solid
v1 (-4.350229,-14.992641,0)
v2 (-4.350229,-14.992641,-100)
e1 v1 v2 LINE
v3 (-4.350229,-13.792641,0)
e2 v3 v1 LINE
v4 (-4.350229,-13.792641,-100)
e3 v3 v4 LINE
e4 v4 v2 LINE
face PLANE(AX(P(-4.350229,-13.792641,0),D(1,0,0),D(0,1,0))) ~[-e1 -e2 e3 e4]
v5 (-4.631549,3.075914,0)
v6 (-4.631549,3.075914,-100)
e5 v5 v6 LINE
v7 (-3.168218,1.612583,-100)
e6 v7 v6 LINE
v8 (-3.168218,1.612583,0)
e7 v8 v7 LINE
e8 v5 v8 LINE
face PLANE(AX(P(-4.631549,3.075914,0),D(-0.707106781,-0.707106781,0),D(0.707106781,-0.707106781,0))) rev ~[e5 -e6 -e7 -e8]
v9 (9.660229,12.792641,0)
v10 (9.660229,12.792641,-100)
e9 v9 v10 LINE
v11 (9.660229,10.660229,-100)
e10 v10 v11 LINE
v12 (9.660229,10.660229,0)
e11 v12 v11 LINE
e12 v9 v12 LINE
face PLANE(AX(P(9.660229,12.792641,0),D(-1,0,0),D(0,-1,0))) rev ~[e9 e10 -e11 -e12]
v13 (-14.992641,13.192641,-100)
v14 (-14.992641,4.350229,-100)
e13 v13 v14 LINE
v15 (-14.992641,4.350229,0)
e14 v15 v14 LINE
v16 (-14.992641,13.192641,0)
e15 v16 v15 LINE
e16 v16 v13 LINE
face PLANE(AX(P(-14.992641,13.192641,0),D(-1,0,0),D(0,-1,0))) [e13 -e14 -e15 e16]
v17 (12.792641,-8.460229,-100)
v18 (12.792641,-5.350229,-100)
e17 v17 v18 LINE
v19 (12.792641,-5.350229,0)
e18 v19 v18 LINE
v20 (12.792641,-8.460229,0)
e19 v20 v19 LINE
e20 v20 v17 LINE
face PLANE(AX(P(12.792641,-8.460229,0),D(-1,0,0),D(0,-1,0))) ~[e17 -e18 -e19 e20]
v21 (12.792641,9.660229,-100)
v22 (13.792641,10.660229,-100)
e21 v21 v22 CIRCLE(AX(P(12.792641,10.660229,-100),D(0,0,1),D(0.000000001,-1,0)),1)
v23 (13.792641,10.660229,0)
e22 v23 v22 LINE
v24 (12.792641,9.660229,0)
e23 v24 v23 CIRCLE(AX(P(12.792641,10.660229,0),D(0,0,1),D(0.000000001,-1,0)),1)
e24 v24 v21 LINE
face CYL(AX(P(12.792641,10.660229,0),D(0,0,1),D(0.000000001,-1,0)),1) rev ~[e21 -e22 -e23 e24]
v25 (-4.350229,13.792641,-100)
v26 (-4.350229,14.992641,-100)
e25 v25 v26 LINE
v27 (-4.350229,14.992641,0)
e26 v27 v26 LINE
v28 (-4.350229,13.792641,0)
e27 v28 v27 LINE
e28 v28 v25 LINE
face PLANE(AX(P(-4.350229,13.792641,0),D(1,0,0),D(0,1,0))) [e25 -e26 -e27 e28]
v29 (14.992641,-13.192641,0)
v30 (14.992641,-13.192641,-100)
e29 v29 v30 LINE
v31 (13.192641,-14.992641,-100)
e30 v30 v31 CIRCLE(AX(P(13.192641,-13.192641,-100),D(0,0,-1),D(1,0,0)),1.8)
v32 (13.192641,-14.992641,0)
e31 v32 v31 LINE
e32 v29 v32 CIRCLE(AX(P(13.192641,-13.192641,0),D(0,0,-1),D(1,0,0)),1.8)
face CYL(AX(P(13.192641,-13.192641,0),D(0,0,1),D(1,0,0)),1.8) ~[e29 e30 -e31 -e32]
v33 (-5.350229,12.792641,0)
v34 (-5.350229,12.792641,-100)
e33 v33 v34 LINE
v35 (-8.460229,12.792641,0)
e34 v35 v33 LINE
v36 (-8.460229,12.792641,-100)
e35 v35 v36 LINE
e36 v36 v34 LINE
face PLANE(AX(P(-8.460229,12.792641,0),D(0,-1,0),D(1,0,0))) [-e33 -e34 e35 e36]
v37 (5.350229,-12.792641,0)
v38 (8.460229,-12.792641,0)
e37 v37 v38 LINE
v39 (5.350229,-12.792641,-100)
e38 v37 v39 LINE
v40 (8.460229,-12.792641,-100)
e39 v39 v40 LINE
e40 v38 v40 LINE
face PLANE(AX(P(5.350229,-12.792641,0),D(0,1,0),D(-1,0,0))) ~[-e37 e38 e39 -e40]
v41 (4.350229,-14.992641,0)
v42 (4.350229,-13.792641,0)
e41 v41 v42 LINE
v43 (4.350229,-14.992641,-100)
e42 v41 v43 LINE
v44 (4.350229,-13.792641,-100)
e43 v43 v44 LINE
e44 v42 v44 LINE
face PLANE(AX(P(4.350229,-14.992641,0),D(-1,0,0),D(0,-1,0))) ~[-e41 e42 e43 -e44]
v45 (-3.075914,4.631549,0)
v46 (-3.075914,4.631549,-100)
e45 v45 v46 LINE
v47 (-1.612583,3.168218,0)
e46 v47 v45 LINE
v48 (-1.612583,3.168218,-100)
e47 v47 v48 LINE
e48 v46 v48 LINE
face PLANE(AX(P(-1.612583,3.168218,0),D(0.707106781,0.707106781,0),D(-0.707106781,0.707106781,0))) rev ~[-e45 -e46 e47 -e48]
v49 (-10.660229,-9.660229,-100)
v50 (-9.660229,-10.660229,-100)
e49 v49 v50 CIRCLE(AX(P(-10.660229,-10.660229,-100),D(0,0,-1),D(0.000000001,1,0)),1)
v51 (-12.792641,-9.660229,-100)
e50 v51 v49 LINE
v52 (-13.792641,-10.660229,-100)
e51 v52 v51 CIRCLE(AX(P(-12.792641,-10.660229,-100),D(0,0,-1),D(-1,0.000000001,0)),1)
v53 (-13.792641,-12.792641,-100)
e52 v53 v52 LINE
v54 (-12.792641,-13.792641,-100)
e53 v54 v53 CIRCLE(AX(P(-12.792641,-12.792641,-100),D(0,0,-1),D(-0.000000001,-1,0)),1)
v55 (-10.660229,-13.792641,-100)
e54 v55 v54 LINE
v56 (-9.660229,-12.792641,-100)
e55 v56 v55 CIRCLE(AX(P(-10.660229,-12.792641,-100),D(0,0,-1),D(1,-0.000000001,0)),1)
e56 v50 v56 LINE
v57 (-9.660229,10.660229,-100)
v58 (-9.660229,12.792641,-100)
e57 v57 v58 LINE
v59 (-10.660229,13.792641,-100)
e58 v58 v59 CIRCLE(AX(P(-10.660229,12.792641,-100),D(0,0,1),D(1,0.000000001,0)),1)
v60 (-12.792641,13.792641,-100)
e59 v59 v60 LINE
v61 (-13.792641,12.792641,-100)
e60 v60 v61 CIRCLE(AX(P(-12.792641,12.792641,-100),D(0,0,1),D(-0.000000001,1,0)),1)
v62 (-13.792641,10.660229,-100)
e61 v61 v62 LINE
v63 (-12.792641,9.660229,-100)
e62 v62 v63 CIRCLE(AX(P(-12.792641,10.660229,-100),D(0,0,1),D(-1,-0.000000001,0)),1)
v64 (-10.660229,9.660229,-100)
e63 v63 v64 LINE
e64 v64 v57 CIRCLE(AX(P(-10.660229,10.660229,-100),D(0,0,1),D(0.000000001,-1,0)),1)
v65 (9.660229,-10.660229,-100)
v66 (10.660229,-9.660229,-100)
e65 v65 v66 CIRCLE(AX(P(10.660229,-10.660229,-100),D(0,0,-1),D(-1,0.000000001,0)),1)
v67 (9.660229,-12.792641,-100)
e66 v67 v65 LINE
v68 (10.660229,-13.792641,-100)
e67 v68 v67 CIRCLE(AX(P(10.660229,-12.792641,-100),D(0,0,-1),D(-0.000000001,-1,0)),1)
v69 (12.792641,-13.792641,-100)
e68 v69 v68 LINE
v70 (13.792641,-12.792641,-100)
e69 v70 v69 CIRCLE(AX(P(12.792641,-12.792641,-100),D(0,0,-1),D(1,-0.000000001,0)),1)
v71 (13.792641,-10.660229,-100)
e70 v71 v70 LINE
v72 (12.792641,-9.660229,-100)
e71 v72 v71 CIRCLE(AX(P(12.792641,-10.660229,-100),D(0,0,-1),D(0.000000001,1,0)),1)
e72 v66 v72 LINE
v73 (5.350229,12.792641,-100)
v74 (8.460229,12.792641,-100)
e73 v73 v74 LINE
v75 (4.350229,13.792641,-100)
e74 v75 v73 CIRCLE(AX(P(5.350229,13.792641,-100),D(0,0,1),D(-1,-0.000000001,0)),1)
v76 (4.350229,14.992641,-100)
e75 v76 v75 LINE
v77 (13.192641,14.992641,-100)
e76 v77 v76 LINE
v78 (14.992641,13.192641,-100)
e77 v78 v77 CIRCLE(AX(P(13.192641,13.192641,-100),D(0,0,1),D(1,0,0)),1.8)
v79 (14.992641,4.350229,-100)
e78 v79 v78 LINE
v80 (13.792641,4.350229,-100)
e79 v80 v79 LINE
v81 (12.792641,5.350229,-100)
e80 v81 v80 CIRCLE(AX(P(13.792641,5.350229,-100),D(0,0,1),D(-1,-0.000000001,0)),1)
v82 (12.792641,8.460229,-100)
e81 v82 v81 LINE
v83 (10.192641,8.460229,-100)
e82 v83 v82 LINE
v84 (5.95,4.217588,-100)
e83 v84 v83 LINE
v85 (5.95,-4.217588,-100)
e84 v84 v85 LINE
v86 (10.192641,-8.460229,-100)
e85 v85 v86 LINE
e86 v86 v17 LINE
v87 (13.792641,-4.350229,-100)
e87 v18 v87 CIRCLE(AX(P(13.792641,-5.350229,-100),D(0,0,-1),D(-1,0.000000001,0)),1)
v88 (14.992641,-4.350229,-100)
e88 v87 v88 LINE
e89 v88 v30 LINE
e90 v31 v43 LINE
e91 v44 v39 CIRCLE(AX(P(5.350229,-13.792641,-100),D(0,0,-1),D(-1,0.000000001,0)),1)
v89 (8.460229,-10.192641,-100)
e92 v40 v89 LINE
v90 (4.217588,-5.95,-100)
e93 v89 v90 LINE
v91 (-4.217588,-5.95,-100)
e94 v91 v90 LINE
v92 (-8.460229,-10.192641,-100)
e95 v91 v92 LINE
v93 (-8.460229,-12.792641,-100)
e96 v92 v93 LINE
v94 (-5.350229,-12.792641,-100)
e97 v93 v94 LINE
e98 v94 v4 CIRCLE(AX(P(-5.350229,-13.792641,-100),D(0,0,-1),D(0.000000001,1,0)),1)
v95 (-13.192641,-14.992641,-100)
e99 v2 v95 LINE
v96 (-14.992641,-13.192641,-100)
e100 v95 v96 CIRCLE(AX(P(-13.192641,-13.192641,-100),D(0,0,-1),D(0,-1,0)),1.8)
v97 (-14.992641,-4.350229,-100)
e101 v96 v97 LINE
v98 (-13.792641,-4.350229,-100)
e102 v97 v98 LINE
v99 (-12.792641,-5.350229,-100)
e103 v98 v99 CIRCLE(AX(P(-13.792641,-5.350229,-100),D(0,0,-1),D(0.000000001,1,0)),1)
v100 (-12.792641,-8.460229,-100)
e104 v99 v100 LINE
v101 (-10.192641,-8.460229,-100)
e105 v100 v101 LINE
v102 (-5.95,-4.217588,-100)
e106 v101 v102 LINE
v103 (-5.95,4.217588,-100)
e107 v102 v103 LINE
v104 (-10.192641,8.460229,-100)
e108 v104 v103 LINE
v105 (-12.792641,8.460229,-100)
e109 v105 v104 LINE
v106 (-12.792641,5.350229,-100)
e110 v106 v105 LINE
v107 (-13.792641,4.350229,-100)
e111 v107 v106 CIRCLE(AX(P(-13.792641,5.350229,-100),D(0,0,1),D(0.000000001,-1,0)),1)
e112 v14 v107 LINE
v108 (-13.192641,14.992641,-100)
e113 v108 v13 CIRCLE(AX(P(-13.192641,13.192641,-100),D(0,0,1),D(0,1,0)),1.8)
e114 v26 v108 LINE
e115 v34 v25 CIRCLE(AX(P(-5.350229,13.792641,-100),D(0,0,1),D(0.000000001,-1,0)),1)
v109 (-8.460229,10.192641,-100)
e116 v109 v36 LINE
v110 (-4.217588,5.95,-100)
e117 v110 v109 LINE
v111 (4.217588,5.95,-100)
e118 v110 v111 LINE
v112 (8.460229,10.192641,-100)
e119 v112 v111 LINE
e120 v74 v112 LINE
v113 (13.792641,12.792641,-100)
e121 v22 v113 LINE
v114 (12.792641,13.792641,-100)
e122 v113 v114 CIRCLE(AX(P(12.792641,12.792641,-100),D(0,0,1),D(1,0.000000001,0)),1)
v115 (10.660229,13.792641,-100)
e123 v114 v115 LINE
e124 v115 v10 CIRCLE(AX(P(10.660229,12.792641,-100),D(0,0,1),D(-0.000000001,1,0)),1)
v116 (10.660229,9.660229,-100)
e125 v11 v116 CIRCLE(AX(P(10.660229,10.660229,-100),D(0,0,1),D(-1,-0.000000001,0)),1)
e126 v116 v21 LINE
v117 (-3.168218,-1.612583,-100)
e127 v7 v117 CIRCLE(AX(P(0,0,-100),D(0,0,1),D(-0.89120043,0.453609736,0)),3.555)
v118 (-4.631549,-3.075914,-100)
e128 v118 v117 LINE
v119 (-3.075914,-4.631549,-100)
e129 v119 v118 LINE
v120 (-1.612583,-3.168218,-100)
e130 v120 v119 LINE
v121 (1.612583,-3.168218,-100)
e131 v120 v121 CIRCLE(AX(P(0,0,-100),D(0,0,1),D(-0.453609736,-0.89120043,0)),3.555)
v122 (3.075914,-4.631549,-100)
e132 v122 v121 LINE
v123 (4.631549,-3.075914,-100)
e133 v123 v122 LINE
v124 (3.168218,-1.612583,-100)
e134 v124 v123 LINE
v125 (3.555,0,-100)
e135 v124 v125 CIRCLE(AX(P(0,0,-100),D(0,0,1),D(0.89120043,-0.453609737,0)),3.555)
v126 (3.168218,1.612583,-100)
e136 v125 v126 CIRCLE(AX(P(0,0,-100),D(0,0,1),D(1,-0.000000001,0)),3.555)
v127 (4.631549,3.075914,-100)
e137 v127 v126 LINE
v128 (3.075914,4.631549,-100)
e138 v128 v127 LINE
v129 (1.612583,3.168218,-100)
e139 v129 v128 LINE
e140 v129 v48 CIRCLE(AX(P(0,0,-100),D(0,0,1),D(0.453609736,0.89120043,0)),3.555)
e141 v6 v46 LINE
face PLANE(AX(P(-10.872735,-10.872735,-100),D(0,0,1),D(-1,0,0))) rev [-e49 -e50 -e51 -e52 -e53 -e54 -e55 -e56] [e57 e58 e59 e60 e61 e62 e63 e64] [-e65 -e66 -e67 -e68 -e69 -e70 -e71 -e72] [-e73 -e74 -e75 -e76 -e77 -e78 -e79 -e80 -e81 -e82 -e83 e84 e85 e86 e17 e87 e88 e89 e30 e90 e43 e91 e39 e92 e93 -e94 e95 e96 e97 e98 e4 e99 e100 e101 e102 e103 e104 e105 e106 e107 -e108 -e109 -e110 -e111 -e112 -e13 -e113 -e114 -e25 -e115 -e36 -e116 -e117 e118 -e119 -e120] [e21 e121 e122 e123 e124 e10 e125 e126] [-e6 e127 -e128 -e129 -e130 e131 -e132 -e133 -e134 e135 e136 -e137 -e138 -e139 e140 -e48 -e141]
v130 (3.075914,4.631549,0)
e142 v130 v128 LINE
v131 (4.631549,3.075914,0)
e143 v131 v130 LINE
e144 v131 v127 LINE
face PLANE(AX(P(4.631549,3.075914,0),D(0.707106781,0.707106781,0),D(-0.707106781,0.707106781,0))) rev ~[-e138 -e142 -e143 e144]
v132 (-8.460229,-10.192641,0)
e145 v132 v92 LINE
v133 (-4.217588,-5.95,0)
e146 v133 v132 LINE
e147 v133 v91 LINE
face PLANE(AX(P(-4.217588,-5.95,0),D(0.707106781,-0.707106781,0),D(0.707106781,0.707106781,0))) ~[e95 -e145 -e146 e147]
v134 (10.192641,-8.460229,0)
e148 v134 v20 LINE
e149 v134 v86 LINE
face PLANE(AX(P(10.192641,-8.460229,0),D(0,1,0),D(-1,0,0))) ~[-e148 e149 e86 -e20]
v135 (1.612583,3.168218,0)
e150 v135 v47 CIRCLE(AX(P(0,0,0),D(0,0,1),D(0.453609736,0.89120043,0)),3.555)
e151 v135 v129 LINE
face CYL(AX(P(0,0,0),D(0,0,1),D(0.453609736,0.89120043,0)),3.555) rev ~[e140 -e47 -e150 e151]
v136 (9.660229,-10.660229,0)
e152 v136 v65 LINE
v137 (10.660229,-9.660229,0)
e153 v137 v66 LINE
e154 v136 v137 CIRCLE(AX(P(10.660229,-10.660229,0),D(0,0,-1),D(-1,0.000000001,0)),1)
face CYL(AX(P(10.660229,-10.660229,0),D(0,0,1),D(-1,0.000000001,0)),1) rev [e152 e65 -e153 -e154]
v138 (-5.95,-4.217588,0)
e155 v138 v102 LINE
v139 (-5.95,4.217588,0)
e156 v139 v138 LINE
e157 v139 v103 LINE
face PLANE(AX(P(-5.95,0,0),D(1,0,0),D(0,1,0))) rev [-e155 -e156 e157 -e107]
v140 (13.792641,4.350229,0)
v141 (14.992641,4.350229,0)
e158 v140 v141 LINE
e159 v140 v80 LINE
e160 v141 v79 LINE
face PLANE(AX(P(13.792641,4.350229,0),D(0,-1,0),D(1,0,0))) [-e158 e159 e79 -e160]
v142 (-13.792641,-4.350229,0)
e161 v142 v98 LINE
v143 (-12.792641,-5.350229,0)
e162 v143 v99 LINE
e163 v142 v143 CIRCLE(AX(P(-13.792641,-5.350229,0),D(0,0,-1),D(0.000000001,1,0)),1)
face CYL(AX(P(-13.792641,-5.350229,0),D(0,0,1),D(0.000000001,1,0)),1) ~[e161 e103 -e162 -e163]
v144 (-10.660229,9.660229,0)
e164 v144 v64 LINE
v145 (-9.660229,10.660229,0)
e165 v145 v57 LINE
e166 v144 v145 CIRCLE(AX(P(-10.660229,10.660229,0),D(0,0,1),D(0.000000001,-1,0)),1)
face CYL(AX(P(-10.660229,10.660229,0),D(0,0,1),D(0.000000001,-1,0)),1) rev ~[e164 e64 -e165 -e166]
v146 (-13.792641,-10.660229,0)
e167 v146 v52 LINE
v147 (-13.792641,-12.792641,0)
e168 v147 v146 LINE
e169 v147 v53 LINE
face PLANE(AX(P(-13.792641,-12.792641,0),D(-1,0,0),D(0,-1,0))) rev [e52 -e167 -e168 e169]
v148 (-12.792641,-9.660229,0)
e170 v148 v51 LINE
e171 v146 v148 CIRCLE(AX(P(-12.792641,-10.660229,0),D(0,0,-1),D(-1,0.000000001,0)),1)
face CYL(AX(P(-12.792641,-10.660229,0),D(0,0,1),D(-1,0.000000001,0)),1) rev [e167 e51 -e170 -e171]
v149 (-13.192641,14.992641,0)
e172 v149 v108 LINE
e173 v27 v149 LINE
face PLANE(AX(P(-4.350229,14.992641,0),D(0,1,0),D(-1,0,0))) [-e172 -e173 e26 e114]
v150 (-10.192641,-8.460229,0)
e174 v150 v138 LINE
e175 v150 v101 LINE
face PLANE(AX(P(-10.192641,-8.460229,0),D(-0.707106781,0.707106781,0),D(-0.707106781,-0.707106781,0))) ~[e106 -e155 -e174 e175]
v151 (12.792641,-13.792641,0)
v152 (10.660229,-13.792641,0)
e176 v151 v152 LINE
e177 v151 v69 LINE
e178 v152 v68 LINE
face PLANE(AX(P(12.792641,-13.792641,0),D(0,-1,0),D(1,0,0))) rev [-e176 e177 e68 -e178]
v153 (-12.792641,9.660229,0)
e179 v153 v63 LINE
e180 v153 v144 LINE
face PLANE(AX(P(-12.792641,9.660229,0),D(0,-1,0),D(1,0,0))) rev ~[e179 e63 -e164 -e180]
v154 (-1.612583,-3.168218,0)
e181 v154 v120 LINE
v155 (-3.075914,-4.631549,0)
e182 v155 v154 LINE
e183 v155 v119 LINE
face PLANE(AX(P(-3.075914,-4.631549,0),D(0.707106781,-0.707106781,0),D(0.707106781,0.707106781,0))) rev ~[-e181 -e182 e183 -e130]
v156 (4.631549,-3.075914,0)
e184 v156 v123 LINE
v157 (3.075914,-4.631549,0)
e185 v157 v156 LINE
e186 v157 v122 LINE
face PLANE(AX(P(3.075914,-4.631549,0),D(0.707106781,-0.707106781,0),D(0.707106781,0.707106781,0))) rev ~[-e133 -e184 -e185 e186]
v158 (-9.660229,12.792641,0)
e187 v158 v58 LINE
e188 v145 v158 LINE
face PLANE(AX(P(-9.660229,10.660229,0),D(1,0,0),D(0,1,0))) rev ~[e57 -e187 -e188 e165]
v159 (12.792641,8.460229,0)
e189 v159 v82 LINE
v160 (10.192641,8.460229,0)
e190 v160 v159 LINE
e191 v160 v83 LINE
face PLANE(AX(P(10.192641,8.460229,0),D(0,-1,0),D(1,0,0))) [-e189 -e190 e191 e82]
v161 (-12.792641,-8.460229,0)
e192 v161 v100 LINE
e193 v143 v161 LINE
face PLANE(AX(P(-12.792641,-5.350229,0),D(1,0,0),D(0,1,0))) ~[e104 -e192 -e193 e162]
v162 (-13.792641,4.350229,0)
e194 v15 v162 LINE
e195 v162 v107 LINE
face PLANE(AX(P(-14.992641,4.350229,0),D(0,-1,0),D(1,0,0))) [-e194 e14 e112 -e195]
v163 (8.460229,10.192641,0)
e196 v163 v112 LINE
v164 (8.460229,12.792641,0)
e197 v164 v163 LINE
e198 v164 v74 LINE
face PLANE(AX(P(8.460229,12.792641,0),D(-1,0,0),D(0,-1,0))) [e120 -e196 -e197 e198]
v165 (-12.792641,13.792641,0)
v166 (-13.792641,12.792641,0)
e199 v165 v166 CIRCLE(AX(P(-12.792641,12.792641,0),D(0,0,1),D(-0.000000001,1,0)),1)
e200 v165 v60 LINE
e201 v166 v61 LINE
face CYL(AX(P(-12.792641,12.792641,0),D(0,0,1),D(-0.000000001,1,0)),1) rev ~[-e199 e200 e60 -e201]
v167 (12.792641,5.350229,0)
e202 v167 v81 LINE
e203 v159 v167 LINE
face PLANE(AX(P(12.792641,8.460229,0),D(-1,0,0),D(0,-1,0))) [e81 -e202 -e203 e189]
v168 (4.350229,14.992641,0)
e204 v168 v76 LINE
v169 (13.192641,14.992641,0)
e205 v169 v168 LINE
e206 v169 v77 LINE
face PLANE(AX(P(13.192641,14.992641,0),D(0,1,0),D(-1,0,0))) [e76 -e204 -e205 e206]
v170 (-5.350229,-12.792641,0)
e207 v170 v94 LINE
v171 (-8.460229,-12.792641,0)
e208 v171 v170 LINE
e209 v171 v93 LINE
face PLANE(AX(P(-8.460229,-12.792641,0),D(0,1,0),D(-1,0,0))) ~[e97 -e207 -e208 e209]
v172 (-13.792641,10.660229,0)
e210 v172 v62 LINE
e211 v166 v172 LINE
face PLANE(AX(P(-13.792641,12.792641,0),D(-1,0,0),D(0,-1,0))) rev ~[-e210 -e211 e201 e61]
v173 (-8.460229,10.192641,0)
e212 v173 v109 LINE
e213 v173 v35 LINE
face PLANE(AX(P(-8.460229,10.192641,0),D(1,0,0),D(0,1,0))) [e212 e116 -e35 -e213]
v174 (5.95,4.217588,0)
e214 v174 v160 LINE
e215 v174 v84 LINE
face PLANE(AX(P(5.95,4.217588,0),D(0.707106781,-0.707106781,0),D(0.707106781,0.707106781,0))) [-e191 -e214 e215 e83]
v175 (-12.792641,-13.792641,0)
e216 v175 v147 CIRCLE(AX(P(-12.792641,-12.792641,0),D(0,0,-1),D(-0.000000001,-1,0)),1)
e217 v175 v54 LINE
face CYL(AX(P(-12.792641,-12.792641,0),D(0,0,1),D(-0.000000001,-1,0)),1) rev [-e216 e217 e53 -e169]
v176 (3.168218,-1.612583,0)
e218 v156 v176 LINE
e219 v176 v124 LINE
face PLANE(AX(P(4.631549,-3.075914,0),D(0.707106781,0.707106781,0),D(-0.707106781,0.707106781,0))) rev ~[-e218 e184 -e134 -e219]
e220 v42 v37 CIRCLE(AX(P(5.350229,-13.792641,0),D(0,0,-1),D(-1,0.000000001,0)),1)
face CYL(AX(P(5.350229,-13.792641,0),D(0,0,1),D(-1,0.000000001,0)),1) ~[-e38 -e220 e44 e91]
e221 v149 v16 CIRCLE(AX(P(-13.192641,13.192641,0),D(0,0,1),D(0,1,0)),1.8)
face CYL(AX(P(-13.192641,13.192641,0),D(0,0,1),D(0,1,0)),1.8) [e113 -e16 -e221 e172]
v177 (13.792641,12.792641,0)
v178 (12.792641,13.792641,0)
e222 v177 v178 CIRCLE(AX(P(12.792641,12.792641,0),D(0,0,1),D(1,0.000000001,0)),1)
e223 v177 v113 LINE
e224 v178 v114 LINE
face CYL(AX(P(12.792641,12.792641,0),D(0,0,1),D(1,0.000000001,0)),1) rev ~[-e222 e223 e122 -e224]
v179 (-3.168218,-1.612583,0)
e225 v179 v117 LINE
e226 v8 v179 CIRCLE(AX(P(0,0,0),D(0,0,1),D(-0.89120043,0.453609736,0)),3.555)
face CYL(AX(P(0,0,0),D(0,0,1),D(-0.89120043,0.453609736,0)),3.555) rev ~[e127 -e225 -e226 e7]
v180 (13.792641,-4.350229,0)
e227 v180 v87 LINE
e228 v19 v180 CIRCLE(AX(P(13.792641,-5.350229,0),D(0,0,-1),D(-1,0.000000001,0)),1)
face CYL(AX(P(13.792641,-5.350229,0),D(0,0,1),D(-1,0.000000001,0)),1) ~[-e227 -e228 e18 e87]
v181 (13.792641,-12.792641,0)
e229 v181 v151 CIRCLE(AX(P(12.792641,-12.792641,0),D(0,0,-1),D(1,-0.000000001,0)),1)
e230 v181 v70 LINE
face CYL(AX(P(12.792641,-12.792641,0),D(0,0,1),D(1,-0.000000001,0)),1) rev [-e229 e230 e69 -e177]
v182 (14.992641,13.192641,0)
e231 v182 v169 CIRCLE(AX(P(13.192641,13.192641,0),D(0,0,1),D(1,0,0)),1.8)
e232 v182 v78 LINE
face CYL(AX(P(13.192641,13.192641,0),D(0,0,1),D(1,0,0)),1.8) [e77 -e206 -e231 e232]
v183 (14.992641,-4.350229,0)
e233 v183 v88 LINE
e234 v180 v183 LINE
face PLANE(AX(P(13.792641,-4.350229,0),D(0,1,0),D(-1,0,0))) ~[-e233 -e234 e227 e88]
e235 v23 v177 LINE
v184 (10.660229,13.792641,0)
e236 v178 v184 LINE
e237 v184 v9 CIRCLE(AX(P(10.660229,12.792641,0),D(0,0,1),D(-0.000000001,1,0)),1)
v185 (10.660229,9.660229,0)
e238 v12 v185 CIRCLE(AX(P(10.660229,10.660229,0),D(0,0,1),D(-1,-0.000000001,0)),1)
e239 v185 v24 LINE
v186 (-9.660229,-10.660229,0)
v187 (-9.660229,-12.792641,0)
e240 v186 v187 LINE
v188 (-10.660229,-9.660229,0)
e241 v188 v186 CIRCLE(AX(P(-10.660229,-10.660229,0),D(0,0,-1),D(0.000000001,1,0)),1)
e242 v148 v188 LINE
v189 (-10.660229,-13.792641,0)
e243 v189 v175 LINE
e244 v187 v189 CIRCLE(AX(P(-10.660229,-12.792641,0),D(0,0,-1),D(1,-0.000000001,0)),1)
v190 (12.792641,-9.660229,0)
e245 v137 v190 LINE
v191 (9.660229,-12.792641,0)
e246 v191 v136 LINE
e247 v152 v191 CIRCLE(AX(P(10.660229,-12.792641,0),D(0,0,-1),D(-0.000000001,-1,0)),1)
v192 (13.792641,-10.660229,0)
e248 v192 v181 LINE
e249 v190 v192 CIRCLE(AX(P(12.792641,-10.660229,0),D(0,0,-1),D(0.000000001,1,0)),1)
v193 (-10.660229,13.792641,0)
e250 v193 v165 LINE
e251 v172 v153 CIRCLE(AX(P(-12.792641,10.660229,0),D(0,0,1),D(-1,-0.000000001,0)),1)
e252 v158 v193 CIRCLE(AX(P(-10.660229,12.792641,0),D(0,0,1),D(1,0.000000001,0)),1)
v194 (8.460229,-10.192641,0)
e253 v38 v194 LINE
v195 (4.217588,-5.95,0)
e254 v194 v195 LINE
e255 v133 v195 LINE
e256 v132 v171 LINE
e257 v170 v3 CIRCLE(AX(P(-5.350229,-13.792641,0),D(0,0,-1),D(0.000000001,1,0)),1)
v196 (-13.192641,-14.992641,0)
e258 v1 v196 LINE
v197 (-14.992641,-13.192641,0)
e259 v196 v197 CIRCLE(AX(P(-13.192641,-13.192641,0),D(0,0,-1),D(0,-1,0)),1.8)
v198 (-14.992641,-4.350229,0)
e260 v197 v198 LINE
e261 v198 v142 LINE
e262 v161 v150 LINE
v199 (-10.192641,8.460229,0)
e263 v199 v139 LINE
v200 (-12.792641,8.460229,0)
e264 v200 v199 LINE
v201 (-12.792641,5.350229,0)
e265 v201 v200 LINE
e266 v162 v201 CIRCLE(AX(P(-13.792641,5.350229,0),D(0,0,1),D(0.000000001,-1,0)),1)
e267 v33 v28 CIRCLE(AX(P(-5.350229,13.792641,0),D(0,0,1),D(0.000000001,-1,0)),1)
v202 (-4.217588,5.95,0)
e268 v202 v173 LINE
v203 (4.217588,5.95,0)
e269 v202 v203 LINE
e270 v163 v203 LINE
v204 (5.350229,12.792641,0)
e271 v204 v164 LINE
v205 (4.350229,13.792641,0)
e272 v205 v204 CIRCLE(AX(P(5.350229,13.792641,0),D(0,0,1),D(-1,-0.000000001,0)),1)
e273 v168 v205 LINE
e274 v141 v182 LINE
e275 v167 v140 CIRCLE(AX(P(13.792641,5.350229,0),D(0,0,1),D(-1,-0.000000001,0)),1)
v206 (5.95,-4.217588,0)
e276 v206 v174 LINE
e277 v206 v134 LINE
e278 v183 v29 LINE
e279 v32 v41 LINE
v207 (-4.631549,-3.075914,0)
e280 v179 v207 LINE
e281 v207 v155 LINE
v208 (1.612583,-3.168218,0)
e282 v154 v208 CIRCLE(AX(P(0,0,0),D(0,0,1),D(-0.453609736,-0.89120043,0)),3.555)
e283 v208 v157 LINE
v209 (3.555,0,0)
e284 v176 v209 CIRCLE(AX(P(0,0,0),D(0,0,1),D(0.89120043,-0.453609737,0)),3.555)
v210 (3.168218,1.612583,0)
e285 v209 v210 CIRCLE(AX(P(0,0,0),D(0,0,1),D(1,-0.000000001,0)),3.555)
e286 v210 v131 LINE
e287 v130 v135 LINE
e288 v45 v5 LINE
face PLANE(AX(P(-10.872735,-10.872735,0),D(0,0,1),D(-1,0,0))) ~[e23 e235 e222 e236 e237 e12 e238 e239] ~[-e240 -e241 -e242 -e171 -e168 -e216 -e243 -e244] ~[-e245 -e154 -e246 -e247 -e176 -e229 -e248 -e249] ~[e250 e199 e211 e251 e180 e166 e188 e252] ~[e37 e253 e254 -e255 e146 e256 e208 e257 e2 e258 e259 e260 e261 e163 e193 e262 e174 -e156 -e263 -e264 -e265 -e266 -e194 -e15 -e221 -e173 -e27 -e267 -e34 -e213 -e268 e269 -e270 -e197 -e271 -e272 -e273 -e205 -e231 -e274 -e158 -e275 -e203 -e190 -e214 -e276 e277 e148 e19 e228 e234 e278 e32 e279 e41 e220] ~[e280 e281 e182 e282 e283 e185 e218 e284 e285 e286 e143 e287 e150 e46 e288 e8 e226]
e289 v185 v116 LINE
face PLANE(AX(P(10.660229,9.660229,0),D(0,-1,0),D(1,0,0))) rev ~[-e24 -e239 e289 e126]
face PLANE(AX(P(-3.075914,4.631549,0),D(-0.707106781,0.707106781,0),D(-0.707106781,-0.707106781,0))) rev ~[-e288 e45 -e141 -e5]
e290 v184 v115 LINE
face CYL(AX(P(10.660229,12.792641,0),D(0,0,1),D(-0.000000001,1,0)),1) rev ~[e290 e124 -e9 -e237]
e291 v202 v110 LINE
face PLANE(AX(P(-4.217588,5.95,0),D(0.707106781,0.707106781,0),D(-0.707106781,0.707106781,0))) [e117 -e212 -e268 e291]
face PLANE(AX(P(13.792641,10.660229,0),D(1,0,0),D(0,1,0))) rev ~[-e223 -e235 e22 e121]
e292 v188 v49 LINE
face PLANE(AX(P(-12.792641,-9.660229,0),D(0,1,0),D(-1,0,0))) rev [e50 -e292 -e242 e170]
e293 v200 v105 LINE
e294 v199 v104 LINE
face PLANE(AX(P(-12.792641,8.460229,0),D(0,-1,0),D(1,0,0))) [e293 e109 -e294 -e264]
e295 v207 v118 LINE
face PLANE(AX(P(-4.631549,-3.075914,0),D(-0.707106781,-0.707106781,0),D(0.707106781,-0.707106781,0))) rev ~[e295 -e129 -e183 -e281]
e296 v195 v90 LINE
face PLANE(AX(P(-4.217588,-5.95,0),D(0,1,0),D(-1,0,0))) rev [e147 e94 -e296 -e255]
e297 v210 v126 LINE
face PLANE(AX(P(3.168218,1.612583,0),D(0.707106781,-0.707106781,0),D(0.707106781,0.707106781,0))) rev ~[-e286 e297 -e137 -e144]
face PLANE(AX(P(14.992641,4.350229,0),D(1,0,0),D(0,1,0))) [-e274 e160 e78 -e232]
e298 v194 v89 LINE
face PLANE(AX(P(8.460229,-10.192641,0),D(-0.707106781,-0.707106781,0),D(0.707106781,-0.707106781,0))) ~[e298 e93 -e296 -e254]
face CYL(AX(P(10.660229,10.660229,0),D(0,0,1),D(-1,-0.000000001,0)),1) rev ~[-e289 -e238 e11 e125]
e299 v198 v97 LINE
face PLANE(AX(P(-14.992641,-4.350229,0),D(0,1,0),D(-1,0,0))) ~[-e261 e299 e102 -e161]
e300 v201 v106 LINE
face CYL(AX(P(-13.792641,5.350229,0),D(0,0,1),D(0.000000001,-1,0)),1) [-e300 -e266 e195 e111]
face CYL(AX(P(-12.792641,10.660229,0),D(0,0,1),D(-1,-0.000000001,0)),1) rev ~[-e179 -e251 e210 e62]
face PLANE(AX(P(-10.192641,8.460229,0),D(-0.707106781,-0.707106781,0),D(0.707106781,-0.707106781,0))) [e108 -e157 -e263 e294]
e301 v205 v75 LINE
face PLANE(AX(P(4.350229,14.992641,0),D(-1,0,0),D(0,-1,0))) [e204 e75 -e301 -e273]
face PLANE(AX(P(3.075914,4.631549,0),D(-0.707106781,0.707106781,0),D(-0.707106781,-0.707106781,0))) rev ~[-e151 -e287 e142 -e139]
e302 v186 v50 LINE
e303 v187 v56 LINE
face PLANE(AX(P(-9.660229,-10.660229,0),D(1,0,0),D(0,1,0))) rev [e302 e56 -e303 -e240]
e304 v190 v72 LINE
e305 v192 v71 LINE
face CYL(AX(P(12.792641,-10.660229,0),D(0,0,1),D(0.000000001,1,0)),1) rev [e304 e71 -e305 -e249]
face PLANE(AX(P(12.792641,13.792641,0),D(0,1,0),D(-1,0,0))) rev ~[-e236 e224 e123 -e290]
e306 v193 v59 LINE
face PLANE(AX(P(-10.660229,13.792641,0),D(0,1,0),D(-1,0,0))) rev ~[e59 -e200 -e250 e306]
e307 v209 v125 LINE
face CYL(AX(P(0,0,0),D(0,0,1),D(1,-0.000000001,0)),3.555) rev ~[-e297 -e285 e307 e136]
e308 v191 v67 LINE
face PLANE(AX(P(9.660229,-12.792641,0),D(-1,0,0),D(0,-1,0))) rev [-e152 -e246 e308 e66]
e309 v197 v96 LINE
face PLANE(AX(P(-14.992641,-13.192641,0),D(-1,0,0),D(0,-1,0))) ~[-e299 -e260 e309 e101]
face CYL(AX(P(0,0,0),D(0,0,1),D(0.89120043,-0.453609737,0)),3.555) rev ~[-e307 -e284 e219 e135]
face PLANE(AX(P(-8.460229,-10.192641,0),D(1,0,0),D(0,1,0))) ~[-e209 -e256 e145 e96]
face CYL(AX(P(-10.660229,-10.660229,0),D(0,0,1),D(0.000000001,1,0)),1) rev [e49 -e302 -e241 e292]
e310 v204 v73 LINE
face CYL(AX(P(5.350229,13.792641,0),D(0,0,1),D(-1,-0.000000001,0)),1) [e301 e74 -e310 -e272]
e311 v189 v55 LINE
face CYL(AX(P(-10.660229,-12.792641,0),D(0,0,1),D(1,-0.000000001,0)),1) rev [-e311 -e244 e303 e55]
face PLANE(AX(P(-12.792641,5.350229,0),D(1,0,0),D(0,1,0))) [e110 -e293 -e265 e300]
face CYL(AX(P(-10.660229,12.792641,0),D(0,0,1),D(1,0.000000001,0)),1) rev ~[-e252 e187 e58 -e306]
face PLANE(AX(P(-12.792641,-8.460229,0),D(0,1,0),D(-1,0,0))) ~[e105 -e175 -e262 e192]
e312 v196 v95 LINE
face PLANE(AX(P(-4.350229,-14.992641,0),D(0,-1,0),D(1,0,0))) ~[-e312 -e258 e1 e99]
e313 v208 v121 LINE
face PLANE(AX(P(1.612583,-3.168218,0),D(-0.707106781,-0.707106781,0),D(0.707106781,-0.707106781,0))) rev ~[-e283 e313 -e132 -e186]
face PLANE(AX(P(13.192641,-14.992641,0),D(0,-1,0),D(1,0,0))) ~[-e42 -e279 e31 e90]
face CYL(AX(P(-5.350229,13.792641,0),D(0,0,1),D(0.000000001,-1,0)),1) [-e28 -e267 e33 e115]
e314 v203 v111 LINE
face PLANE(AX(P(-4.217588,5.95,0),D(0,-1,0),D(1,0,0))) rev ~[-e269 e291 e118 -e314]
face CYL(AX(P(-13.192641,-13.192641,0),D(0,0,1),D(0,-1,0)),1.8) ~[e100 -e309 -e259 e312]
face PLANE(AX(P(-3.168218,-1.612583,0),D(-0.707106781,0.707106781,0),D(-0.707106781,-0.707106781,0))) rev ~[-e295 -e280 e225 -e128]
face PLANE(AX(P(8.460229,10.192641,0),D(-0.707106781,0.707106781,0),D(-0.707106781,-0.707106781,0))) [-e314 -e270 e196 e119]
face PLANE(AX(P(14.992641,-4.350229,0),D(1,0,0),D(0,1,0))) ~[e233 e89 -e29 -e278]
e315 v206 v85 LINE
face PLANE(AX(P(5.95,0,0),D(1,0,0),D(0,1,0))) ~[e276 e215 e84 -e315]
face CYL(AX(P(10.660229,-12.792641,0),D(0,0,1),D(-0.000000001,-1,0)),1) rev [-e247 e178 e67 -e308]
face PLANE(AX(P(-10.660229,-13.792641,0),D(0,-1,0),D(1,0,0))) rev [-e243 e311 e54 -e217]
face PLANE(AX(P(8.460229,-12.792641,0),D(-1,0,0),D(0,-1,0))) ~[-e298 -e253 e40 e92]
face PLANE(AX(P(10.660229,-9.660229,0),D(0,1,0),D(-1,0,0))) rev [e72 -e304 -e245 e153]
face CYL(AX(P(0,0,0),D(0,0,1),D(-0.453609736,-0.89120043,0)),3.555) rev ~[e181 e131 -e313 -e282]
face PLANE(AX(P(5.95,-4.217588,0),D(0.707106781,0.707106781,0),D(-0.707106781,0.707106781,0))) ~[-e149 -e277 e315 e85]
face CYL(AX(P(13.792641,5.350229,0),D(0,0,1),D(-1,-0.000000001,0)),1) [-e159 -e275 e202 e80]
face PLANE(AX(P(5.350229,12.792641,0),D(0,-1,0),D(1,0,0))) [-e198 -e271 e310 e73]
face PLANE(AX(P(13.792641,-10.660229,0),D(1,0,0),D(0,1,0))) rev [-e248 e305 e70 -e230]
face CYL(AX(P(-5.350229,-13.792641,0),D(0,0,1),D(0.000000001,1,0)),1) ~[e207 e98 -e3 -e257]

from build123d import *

# Parameters (mm, degrees)
SKETCH1_W           = 11.9
SKETCH1_H           = 5.95
BOSS_EXTRUDE1_DEPTH = 100
CUT_EXTRUDE1_DEPTH  = 101


with BuildPart() as part:
    # Sketch1 → Boss-Extrude1 (new body)
    with BuildSketch(Plane.XY):
        with BuildLine():
            Line((-4.350229073, 14.992640687), (-13.192640687, 14.992640687))
            ThreePointArc((-13.192640687, 14.992640687), (-14.465432893, 14.465432893), (-14.992640687, 13.192640687))
            Line((-14.992640687, 13.192640687), (-14.992640687, 4.350229073))
            Line((-14.992640687, 4.350229073), (-13.792640687, 4.350229073))
            ThreePointArc((-13.792640687, 4.350229073), (-13.085533906, 4.643122292), (-12.792640687, 5.350229073))
            Line((-12.792640687, 5.350229073), (-12.792640687, 8.460229073))
            Line((-12.792640687, 8.460229073), (-8.460229073, 8.460229073))
            Line((-8.460229073, 8.460229073), (-8.460229073, 12.792640687))
            Line((-8.460229073, 12.792640687), (-5.350229073, 12.792640687))
            ThreePointArc((-5.350229073, 12.792640687), (-4.643122292, 13.085533906), (-4.350229073, 13.792640687))
            Line((-4.350229073, 13.792640687), (-4.350229073, 14.992640687))
        make_face()
        with BuildLine():
            Line((-10.660229073, 13.792640687), (-12.792640687, 13.792640687))
            ThreePointArc((-12.792640687, 13.792640687), (-13.499747468, 13.499747468), (-13.792640687, 12.792640687))
            Line((-13.792640687, 12.792640687), (-13.792640687, 10.660229073))
            ThreePointArc((-13.792640687, 10.660229073), (-13.499747468, 9.953122292), (-12.792640687, 9.660229073))
            Line((-12.792640687, 9.660229073), (-10.660229073, 9.660229073))
            ThreePointArc((-10.660229073, 9.660229073), (-9.953122292, 9.953122292), (-9.660229073, 10.660229073))
            Line((-9.660229073, 10.660229073), (-9.660229073, 12.792640687))
            ThreePointArc((-9.660229073, 12.792640687), (-9.953122292, 13.499747468), (-10.660229073, 13.792640687))
        make_face(mode=Mode.SUBTRACT)
        Polygon((-5.95, 4.217588386), (-5.95, 5.95), (-4.217588386, 5.95), (-8.460229073, 10.192640687), (-8.460229073, 8.460229073), (-10.192640687, 8.460229073), align=None)
        with Locations((0, 2.975)):
            Rectangle(SKETCH1_W, SKETCH1_H)
        Polygon((8.460229073, 10.192640687), (4.217588386, 5.95), (5.95, 5.95), (5.95, 4.217588386), (10.192640687, 8.460229073), (8.460229073, 8.460229073), align=None)
        with BuildLine():
            Line((12.792640687, 8.460229073), (12.792640687, 5.350229073))
            ThreePointArc((12.792640687, 5.350229073), (13.085533906, 4.643122292), (13.792640687, 4.350229073))
            Line((13.792640687, 4.350229073), (14.992640687, 4.350229073))
            Line((14.992640687, 4.350229073), (14.992640687, 13.192640687))
            ThreePointArc((14.992640687, 13.192640687), (14.465432893, 14.465432893), (13.192640687, 14.992640687))
            Line((13.192640687, 14.992640687), (4.350229073, 14.992640687))
            Line((4.350229073, 14.992640687), (4.350229073, 13.792640687))
            ThreePointArc((4.350229073, 13.792640687), (4.643122292, 13.085533906), (5.350229073, 12.792640687))
            Line((5.350229073, 12.792640687), (8.460229073, 12.792640687))
            Line((8.460229073, 12.792640687), (8.460229073, 8.460229073))
            Line((8.460229073, 8.460229073), (12.792640687, 8.460229073))
        make_face()
        with BuildLine():
            ThreePointArc((9.660229073, 10.660229073), (9.953122292, 9.953122292), (10.660229073, 9.660229073))
            Line((10.660229073, 9.660229073), (12.792640687, 9.660229073))
            ThreePointArc((12.792640687, 9.660229073), (13.499747468, 9.953122292), (13.792640687, 10.660229073))
            Line((13.792640687, 10.660229073), (13.792640687, 12.792640687))
            ThreePointArc((13.792640687, 12.792640687), (13.499747468, 13.499747468), (12.792640687, 13.792640687))
            Line((12.792640687, 13.792640687), (10.660229073, 13.792640687))
            ThreePointArc((10.660229073, 13.792640687), (9.953122292, 13.499747468), (9.660229073, 12.792640687))
            Line((9.660229073, 12.792640687), (9.660229073, 10.660229073))
        make_face(mode=Mode.SUBTRACT)
    extrude(amount=-BOSS_EXTRUDE1_DEPTH)

    # Mirror1: part across plane


with BuildPart() as part_1:
    add(part.part)
    add(part.part.mirror(Plane(origin=(0, 0, -100), x_dir=(0, 0, 1), z_dir=(0, -1, 0))))

    # Sketch2 → Cut-Extrude1 (cut, through all)
    with BuildSketch(Plane.XY):
        with BuildLine():
            Line((-4.631549417, 3.075914498), (-3.16821753, 1.612582612))
            ThreePointArc((-3.16821753, 1.612582612), (-2.513764607, 2.513764607), (-1.612582612, 3.16821753))
            Line((-1.612582612, 3.16821753), (-3.075914498, 4.631549417))
            Line((-3.075914498, 4.631549417), (-4.631549417, 3.075914498))
        make_face()
        with BuildLine():
            Line((-3.16821753, 1.612582612), (-1.555634919, 0))
            Line((-1.555634919, 0), (0, 1.555634919))
            Line((0, 1.555634919), (-1.612582612, 3.16821753))
            ThreePointArc((-1.612582612, 3.16821753), (-2.513764607, 2.513764607), (-3.16821753, 1.612582612))
        make_face()
        with BuildLine():
            ThreePointArc((-3.16821753, 1.612582612), (-3.555, 0), (-3.16821753, -1.612582612))
            Line((-3.16821753, -1.612582612), (-1.555634919, 0))
            Line((-1.555634919, 0), (-3.16821753, 1.612582612))
        make_face()
        with BuildLine():
            Line((-4.631549417, -3.075914498), (-3.075914498, -4.631549417))
            Line((-3.075914498, -4.631549417), (-1.612582612, -3.16821753))
            ThreePointArc((-1.612582612, -3.16821753), (-2.513764607, -2.513764607), (-3.16821753, -1.612582612))
            Line((-3.16821753, -1.612582612), (-4.631549417, -3.075914498))
        make_face()
        with BuildLine():
            ThreePointArc((-3.16821753, -1.612582612), (-2.513764607, -2.513764607), (-1.612582612, -3.16821753))
            Line((-1.612582612, -3.16821753), (0, -1.555634919))
            Line((0, -1.555634919), (-1.555634919, 0))
            Line((-1.555634919, 0), (-3.16821753, -1.612582612))
        make_face()
        with BuildLine():
            Line((0, -1.555634919), (-1.612582612, -3.16821753))
            ThreePointArc((-1.612582612, -3.16821753), (0, -3.555), (1.612582612, -3.16821753))
            Line((1.612582612, -3.16821753), (0, -1.555634919))
        make_face()
        with BuildLine():
            Line((1.555634919, 0), (0, -1.555634919))
            Line((0, -1.555634919), (1.612582612, -3.16821753))
            ThreePointArc((1.612582612, -3.16821753), (2.513764607, -2.513764607), (3.16821753, -1.612582612))
            Line((3.16821753, -1.612582612), (1.555634919, 0))
        make_face()
        with BuildLine():
            Line((3.16821753, 1.612582612), (1.555634919, 0))
            Line((1.555634919, 0), (3.16821753, -1.612582612))
            ThreePointArc((3.16821753, -1.612582612), (3.456952294, -0.829159719), (3.555, 0))
            ThreePointArc((3.555, 0), (3.456952294, 0.829159719), (3.16821753, 1.612582612))
        make_face()
        Polygon((-1.555634919, 0), (0, -1.555634919), (1.555634919, 0), (0, 1.555634919), align=None)
        with BuildLine():
            Line((0, 1.555634919), (1.555634919, 0))
            Line((1.555634919, 0), (3.16821753, 1.612582612))
            ThreePointArc((3.16821753, 1.612582612), (2.513764607, 2.513764607), (1.612582612, 3.16821753))
            Line((1.612582612, 3.16821753), (0, 1.555634919))
        make_face()
        with BuildLine():
            Line((-1.612582612, 3.16821753), (0, 1.555634919))
            Line((0, 1.555634919), (1.612582612, 3.16821753))
            ThreePointArc((1.612582612, 3.16821753), (0, 3.555), (-1.612582612, 3.16821753))
        make_face()
        with BuildLine():
            ThreePointArc((1.612582612, 3.16821753), (2.513764607, 2.513764607), (3.16821753, 1.612582612))
            Line((3.16821753, 1.612582612), (4.631549417, 3.075914498))
            Line((4.631549417, 3.075914498), (3.075914498, 4.631549417))
            Line((3.075914498, 4.631549417), (1.612582612, 3.16821753))
        make_face()
        with BuildLine():
            ThreePointArc((3.16821753, -1.612582612), (2.513764607, -2.513764607), (1.612582612, -3.16821753))
            Line((1.612582612, -3.16821753), (3.075914498, -4.631549417))
            Line((3.075914498, -4.631549417), (4.631549417, -3.075914498))
            Line((4.631549417, -3.075914498), (3.16821753, -1.612582612))
        make_face()
    extrude(amount=-CUT_EXTRUDE1_DEPTH, mode=Mode.SUBTRACT)


solid = part_1.part
